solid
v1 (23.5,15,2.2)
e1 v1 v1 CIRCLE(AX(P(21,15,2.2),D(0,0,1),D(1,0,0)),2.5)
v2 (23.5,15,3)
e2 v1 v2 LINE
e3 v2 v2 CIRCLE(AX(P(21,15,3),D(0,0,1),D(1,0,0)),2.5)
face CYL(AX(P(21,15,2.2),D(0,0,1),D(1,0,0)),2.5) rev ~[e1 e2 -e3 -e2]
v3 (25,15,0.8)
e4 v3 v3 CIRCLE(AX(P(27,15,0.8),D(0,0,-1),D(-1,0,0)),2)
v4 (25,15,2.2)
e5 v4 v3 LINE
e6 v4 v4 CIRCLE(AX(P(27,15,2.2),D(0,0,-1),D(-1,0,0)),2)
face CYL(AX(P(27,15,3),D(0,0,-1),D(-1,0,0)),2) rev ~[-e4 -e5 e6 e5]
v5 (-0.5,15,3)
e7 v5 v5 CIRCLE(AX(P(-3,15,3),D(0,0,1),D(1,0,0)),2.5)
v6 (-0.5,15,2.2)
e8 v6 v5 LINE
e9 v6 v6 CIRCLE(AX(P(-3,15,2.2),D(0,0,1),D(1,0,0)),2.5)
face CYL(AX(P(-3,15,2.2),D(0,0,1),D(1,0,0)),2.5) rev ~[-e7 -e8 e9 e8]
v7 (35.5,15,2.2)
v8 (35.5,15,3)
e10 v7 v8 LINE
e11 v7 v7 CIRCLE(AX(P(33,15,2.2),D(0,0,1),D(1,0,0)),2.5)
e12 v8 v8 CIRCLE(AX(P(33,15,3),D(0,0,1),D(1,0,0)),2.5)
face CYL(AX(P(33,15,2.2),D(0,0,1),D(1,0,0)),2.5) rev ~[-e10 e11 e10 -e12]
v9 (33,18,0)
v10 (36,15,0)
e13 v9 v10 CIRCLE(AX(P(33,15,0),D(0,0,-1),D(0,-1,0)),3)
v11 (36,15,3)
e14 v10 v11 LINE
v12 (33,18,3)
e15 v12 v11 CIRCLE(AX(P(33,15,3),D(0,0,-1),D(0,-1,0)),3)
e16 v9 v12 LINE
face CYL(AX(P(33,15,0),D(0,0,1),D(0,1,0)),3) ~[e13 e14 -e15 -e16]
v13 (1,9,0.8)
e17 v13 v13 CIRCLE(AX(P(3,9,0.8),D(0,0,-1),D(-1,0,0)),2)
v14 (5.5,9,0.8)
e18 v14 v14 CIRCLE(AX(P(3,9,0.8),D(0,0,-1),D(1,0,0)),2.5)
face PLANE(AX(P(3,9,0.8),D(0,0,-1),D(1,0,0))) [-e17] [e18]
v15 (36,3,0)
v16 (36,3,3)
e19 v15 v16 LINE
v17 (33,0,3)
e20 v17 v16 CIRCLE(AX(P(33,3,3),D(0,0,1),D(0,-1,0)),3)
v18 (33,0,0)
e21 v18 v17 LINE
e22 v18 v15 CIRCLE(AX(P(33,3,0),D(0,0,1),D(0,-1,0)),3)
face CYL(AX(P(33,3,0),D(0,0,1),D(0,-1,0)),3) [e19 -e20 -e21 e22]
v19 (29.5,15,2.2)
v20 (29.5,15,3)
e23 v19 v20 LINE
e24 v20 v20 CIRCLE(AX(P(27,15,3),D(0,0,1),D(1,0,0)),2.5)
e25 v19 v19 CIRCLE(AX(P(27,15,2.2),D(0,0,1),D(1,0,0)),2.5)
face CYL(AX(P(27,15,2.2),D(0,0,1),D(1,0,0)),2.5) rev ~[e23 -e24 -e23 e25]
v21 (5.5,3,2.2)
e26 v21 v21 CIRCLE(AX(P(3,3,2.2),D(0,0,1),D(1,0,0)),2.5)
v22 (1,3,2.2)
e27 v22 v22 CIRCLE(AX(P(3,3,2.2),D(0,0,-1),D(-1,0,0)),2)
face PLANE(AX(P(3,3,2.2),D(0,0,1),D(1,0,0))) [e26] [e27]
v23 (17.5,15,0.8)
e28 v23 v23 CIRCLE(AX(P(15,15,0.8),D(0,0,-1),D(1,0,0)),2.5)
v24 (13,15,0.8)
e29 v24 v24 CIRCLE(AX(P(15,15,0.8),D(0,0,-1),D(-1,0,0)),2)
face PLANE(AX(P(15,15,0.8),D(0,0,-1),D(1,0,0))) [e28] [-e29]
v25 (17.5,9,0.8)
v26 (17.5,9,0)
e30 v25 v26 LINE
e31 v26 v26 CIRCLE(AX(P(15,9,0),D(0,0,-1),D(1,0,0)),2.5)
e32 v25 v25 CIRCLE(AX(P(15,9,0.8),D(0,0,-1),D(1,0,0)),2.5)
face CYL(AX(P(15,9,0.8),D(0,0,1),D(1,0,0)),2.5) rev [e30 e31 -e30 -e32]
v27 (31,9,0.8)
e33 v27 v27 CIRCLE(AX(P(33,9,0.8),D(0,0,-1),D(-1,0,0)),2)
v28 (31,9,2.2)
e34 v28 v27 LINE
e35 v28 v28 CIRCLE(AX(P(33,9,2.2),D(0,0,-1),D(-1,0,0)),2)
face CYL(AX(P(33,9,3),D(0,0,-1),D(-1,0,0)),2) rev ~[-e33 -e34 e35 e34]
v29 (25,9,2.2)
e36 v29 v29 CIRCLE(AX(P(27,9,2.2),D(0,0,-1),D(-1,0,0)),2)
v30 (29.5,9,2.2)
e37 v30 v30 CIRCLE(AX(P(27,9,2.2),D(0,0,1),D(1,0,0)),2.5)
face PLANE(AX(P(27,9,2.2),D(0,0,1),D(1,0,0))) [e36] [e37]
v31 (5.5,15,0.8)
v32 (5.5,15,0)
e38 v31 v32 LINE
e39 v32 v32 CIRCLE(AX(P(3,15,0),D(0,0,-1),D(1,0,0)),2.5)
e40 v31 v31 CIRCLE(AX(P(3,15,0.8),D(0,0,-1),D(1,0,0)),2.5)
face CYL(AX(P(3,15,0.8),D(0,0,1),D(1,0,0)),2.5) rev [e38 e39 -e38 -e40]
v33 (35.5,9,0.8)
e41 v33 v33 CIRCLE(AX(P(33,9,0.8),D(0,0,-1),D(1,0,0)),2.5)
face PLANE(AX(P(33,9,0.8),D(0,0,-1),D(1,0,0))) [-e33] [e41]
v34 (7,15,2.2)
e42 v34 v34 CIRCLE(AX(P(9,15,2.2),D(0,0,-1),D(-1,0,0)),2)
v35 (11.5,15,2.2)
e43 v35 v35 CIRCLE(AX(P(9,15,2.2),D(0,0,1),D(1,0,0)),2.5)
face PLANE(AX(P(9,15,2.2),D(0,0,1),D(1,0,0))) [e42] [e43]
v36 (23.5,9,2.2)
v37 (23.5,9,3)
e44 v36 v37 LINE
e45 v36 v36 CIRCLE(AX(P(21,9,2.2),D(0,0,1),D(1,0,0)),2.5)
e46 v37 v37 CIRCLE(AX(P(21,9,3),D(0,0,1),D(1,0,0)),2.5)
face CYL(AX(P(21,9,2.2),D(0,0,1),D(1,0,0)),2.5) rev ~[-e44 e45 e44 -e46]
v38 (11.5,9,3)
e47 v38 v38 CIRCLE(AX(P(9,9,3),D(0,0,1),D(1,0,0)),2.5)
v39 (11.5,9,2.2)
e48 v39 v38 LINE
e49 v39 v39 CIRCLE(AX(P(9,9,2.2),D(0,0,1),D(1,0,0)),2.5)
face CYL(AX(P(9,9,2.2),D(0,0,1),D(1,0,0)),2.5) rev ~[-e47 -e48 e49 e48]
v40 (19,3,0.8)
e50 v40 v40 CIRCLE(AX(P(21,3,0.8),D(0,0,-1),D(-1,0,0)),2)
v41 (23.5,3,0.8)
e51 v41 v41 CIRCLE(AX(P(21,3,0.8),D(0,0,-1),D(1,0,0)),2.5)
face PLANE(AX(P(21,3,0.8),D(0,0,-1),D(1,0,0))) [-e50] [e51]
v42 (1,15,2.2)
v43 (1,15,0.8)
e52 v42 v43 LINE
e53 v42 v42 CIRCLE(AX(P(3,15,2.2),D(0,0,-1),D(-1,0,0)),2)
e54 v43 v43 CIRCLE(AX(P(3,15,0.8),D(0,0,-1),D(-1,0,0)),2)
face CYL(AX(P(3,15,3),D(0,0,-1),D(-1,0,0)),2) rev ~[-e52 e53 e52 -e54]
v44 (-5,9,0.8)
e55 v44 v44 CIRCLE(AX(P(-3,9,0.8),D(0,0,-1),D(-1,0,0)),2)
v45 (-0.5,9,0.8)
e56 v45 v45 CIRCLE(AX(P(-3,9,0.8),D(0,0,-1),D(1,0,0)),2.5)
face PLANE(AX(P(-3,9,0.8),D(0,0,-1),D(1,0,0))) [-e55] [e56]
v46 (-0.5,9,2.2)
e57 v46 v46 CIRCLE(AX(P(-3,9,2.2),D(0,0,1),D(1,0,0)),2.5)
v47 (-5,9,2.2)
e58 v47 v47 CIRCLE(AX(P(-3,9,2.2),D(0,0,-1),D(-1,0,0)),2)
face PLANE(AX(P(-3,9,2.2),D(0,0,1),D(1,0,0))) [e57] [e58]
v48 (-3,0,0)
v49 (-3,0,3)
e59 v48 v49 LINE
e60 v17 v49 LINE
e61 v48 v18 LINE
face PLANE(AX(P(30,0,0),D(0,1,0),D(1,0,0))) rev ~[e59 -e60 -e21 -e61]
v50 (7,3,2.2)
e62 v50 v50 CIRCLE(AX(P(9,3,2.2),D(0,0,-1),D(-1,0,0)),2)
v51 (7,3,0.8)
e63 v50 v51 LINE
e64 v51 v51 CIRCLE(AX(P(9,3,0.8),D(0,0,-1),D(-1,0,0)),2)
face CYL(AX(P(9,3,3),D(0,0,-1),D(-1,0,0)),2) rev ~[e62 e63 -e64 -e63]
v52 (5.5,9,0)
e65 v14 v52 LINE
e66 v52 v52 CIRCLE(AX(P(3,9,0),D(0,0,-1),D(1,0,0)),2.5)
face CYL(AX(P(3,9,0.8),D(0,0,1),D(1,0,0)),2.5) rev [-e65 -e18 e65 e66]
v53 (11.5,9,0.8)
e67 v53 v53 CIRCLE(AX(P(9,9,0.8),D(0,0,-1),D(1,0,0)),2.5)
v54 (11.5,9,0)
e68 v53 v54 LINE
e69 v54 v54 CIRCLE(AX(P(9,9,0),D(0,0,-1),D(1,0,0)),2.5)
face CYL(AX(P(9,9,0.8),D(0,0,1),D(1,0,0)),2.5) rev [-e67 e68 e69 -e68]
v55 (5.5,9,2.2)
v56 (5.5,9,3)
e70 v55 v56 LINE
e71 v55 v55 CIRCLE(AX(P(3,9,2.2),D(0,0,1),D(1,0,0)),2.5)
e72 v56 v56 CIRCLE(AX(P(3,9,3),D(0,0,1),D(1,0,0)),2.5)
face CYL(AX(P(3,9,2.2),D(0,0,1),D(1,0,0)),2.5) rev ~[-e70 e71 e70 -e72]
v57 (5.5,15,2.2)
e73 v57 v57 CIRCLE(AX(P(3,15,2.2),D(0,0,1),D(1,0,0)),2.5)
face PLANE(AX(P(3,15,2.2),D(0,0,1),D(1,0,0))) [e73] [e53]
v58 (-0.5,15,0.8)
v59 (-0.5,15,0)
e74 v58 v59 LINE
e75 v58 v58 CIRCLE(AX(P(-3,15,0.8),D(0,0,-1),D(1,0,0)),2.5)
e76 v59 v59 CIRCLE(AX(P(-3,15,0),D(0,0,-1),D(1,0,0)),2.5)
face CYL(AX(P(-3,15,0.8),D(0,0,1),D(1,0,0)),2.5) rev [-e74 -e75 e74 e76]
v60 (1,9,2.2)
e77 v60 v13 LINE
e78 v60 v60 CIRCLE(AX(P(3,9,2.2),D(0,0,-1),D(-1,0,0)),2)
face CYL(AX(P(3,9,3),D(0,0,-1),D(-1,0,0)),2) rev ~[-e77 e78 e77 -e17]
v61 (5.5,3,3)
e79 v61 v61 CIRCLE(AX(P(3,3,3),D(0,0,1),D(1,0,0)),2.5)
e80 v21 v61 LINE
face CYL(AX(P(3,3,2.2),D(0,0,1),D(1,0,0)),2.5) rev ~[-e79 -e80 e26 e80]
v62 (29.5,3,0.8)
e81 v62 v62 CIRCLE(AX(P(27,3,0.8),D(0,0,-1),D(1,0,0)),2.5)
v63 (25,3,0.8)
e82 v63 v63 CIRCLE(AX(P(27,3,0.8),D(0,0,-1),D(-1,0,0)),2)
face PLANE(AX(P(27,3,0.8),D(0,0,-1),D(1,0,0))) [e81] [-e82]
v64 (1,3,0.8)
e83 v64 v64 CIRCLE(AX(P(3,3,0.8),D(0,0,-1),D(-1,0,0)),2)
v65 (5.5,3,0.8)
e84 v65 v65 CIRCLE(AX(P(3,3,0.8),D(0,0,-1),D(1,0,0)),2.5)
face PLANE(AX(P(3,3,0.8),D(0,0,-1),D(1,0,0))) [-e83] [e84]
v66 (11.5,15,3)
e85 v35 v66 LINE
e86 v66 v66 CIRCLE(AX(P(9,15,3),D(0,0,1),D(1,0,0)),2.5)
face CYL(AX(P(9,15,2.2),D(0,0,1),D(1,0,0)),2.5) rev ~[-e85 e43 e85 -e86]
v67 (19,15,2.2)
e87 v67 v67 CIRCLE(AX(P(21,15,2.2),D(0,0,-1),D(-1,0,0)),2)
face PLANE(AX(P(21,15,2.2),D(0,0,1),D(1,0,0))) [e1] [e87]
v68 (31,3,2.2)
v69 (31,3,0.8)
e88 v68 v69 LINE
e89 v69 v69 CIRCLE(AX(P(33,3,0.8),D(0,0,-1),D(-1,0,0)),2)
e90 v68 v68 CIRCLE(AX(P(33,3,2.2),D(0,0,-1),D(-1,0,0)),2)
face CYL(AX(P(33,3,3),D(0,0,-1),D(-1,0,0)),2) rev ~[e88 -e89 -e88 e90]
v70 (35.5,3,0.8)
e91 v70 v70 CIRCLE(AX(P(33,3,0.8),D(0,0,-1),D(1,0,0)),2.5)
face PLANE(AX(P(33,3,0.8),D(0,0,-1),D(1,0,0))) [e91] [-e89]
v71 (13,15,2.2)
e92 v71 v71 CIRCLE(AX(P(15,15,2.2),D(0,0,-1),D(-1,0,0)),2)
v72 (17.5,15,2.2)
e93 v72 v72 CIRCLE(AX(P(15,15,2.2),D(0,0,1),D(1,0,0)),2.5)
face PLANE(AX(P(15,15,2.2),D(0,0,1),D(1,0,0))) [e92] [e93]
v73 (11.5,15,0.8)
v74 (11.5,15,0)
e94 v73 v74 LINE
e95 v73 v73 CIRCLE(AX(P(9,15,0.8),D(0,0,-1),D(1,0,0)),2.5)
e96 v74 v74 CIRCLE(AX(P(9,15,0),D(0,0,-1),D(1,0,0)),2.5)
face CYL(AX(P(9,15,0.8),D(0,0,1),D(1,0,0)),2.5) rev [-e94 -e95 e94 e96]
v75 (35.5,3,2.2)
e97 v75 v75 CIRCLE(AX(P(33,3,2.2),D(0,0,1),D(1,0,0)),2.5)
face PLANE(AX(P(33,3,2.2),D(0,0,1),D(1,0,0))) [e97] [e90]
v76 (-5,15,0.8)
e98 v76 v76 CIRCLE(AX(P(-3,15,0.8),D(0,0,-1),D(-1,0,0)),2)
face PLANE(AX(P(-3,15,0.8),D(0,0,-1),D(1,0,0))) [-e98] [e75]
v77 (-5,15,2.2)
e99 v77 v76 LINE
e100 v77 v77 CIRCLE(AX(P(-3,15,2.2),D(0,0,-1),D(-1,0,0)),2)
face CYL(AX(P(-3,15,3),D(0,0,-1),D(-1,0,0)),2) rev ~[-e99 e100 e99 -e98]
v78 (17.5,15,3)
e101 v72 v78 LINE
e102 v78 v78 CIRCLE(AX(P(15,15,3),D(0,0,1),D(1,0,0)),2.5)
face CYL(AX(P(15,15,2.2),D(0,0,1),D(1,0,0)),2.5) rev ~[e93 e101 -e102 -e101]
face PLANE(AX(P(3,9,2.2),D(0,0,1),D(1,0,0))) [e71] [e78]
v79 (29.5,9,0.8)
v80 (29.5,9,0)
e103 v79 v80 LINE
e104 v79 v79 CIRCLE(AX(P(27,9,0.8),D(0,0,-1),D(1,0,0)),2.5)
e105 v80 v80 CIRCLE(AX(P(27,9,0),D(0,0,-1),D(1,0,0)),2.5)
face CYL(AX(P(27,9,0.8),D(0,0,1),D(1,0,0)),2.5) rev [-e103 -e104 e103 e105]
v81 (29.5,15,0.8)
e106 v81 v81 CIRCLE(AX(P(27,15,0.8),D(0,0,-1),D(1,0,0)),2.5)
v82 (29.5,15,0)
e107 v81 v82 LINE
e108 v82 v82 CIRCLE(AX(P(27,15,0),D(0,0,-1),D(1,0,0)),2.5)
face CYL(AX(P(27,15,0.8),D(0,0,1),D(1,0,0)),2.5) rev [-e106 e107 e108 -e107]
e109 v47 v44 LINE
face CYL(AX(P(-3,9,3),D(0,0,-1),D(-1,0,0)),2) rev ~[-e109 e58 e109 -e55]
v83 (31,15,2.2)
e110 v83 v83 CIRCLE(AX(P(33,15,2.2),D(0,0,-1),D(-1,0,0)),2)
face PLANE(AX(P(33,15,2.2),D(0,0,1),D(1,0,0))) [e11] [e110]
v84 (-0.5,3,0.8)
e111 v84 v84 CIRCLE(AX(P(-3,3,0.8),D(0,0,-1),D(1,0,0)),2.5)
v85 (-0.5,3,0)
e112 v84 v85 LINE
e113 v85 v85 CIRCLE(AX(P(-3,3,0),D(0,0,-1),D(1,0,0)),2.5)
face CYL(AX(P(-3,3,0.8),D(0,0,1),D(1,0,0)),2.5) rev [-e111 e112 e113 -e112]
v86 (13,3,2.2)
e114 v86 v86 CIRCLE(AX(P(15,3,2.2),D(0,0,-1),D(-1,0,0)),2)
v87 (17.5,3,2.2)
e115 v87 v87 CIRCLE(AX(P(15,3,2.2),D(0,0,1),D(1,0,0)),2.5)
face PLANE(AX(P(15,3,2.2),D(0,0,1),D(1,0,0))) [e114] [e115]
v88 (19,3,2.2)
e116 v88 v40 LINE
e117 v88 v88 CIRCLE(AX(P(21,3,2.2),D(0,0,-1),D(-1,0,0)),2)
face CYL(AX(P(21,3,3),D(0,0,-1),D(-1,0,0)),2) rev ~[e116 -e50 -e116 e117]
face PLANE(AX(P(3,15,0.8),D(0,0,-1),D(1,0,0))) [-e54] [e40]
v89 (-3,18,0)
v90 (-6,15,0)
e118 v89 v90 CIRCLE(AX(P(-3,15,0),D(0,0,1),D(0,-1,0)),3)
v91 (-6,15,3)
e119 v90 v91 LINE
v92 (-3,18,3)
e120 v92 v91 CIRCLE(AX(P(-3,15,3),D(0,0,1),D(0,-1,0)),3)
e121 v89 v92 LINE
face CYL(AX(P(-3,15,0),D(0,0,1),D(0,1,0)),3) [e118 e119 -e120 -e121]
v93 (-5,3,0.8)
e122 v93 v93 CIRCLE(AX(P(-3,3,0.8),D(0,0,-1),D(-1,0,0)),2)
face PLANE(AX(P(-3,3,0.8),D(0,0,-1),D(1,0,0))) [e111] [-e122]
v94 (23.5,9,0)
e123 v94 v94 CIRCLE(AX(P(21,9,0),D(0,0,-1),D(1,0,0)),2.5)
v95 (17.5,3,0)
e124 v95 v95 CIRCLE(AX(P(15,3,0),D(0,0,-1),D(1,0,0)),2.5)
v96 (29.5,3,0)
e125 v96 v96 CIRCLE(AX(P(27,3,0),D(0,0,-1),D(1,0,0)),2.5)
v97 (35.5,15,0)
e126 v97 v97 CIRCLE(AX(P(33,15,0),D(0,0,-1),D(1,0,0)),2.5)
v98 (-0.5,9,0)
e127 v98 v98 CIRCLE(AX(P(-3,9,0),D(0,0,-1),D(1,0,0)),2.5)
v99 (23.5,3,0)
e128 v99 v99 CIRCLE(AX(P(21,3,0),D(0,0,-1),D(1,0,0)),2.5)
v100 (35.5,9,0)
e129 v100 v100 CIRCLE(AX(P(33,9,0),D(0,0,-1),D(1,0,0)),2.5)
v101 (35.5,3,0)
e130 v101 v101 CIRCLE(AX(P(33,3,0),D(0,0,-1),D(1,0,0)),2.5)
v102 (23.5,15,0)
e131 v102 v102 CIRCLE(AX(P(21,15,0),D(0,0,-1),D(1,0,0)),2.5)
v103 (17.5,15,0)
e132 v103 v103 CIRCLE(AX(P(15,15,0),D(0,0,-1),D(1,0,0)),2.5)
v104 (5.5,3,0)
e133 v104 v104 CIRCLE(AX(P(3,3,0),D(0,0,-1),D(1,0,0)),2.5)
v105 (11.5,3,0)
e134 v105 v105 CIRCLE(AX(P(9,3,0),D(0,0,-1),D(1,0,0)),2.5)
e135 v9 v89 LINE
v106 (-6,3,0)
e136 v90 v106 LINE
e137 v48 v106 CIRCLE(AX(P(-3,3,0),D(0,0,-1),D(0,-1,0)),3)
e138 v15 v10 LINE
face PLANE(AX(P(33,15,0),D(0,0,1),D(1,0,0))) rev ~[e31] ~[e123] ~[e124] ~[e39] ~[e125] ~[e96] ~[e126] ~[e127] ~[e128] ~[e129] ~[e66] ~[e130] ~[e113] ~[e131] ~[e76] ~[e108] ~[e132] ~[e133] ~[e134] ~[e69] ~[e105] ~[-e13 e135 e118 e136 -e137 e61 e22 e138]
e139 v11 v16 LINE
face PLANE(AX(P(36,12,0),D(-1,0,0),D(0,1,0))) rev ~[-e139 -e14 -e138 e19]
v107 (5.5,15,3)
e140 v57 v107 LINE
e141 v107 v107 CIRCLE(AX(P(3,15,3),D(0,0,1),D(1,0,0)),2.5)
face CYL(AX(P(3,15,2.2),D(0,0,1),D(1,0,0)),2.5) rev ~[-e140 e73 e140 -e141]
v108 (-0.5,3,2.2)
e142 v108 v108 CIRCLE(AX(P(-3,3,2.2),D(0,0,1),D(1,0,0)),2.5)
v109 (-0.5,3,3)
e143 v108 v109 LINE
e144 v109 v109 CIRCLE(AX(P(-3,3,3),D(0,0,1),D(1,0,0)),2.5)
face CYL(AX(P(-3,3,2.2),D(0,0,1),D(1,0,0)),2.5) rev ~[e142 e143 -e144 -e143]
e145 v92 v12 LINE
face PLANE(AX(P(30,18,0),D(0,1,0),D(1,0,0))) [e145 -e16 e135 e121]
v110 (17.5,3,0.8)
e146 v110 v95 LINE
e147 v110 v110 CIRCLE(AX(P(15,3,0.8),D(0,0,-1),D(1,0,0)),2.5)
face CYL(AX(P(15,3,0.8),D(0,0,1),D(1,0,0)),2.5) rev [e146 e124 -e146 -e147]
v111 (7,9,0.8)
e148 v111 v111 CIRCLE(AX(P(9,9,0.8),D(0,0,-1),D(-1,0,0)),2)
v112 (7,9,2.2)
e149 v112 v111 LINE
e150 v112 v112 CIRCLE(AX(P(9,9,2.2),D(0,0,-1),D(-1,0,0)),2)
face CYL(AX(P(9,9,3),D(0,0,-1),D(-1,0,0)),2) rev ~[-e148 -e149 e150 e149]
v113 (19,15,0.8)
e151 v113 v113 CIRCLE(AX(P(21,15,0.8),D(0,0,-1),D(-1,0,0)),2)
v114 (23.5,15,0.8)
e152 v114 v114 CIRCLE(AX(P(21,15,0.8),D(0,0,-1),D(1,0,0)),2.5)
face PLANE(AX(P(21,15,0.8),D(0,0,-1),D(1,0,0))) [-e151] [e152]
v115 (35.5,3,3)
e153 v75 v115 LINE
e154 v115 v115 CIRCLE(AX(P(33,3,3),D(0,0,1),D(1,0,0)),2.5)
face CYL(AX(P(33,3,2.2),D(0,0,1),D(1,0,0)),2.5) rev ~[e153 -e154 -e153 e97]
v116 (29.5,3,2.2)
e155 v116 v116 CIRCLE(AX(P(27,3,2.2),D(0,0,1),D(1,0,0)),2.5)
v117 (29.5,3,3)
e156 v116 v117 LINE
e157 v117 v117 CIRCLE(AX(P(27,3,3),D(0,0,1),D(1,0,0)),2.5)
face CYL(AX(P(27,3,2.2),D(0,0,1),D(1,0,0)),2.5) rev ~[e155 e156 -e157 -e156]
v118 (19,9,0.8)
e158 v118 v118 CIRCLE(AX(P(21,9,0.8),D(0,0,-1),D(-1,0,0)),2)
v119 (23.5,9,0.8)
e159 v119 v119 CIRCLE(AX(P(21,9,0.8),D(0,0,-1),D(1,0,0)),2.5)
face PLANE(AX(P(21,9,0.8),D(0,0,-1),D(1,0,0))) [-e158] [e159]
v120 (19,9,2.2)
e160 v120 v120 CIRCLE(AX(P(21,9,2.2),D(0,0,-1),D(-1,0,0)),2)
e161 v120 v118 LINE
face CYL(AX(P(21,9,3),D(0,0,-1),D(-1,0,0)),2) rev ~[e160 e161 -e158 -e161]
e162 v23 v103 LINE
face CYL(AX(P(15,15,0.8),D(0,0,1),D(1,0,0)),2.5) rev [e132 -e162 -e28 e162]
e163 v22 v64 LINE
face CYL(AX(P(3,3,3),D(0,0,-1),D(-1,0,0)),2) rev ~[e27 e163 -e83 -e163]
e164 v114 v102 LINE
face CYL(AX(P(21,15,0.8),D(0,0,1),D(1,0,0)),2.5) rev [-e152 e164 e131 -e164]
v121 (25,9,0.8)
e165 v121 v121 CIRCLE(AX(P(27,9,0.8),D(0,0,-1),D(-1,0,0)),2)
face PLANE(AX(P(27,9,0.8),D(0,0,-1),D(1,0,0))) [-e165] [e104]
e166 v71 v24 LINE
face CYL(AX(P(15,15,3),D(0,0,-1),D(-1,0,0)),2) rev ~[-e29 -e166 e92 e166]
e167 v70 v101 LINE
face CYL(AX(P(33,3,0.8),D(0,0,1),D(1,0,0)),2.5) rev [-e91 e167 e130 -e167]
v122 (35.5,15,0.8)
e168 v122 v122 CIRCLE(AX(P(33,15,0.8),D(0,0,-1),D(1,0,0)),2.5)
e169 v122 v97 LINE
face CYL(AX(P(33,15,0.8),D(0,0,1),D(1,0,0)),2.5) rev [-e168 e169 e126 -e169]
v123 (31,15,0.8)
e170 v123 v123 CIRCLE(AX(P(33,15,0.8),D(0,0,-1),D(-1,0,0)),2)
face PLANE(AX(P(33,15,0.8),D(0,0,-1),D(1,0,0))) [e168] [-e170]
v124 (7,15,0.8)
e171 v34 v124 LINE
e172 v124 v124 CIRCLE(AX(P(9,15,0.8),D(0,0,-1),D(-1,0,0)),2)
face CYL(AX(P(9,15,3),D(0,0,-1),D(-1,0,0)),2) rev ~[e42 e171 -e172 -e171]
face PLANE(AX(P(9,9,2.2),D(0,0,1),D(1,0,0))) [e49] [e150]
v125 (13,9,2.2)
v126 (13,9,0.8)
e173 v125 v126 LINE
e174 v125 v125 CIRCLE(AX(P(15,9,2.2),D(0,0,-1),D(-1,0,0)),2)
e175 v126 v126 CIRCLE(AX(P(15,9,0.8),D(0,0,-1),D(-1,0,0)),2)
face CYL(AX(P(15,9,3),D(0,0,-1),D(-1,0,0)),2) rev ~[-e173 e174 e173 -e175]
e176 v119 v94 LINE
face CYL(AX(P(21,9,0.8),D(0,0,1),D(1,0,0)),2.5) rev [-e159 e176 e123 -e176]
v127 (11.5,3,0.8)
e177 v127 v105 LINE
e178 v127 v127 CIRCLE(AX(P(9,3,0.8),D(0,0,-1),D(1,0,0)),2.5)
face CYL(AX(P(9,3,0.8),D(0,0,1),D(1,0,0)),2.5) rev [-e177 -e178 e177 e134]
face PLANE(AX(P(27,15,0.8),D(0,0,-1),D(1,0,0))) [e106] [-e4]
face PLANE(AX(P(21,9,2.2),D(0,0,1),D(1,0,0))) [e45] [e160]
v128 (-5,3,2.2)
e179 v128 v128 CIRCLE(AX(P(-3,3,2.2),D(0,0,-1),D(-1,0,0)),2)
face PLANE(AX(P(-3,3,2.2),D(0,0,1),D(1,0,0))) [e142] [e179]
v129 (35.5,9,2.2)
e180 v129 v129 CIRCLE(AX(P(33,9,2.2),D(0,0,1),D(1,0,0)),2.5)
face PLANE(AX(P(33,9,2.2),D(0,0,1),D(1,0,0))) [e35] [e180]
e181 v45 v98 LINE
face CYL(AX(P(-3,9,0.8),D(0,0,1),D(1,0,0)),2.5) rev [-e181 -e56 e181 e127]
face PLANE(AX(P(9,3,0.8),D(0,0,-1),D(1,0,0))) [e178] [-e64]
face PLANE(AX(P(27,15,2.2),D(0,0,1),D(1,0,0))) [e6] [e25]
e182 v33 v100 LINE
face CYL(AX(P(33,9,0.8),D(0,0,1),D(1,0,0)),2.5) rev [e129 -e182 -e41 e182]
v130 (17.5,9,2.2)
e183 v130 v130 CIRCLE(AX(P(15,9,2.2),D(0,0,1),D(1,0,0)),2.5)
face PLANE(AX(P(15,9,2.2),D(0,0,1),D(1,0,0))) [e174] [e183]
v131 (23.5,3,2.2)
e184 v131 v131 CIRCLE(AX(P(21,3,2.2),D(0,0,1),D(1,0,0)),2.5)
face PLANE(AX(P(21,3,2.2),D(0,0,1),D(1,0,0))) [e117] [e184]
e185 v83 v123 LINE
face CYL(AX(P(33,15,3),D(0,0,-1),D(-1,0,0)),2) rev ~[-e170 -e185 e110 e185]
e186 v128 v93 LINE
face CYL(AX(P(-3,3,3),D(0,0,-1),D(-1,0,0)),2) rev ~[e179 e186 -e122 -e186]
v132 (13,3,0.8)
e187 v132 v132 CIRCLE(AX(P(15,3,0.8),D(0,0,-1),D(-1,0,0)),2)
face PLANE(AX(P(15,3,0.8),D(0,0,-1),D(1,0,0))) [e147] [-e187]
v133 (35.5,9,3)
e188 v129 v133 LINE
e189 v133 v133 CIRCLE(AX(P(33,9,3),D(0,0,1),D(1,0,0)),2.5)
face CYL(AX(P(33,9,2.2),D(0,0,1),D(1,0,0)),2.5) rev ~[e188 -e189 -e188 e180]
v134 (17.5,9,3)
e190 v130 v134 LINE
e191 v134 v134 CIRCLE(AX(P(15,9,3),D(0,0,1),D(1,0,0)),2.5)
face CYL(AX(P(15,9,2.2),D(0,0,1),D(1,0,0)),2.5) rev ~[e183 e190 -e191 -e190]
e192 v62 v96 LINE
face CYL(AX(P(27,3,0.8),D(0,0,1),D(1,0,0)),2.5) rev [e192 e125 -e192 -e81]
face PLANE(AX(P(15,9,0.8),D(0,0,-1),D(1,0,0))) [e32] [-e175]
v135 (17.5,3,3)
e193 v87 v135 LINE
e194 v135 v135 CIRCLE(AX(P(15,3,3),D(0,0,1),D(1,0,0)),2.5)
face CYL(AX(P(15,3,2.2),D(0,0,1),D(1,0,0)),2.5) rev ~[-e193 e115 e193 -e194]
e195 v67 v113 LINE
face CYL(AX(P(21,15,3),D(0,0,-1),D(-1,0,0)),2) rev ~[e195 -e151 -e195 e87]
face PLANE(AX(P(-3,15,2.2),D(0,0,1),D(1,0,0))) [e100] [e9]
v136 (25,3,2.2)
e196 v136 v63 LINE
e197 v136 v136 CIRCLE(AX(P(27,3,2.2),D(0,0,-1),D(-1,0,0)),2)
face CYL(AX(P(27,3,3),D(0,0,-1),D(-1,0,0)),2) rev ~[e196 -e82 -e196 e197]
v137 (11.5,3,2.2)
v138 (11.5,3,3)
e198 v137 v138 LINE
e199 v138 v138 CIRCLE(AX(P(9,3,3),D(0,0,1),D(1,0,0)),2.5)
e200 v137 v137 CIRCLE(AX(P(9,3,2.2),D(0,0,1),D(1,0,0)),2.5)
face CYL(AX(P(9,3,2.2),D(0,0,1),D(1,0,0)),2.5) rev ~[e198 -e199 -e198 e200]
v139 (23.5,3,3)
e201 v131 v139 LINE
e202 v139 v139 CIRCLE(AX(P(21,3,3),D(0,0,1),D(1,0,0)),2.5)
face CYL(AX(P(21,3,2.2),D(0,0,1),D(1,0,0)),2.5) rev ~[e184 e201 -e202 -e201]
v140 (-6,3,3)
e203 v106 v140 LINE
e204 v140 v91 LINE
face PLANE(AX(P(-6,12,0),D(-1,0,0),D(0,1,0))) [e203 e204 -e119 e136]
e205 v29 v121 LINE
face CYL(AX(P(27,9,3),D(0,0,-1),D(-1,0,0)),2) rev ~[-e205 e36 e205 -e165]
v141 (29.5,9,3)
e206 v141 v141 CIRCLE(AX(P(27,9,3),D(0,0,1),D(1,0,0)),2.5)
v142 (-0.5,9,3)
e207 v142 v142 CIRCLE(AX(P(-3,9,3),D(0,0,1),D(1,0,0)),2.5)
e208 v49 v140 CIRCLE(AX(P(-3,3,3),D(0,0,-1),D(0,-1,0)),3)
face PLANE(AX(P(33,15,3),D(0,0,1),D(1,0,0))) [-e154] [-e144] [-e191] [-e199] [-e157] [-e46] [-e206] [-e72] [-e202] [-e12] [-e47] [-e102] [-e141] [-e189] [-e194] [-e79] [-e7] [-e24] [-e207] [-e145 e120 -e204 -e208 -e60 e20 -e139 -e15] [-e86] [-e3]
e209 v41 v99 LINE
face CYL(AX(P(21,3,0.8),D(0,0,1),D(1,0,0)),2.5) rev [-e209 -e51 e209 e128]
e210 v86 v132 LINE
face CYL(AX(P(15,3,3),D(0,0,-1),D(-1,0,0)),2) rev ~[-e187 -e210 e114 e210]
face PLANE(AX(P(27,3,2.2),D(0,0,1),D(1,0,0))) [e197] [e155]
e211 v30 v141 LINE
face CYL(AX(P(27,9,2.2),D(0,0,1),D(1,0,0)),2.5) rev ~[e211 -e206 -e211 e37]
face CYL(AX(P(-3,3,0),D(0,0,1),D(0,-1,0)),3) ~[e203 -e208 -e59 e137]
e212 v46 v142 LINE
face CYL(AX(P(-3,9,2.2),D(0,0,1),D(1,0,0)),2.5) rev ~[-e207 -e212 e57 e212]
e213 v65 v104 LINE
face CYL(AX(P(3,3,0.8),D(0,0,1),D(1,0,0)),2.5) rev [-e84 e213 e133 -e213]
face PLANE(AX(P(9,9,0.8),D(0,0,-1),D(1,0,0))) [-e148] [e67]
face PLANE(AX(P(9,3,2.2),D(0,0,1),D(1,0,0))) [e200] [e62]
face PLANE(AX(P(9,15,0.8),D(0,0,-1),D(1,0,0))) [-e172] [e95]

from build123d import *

# Parameters (mm, degrees)
SKETCH1_W           = 6
SKETCH1_H           = 6
BOSS_EXTRUDE1_DEPTH = 3
HOLE1_D             = 4
HOLE1_DEPTH         = 3
HOLE1_CBORE_D       = 5
HOLE1_CBORE_DEPTH   = 0.8
HOLE1_TIP           = 1.201721238
CUT_EXTRUDE1_START  = -0.8
SKETCH4_R           = 2.5
CUT_EXTRUDE1_DEPTH  = 0.8
LPATTERN1_COUNT     = 3
LPATTERN1_PITCH     = 6
LPATTERN1_2_COUNT   = 7
LPATTERN1_2_PITCH   = 6
FILLET5_R           = 3


with BuildPart() as part:
    # Sketch1 → Boss-Extrude1 (new body)
    with BuildSketch(Plane.XY):
        with Locations((-3, 3)):
            Rectangle(SKETCH1_W, SKETCH1_H)
    extrude(amount=BOSS_EXTRUDE1_DEPTH)

    # Hole1
    with Locations(Plane.XY.offset(3)):
        with Locations((-3, 3)):
            CounterBoreHole(HOLE1_D / 2, HOLE1_CBORE_D / 2, HOLE1_CBORE_DEPTH, depth=HOLE1_DEPTH)
            with Locations((0, 0, -(HOLE1_DEPTH + HOLE1_TIP / 2))):  # 118° drill point
                Cone(0, HOLE1_D / 2, HOLE1_TIP, mode=Mode.SUBTRACT)

    # Sketch4 → Cut-Extrude1 (cut)
    with BuildSketch(Plane(origin=(0, 0, 0), x_dir=(-1, 0, 0), z_dir=(0, 0, -1)).offset(CUT_EXTRUDE1_START)):
        with Locations(Location((3, 3, 0), (0, 0, 180))):
            Circle(SKETCH4_R)
    extrude(amount=CUT_EXTRUDE1_DEPTH, mode=Mode.SUBTRACT)


with BuildPart() as lpattern1_1:
    # LPattern1: pattern copy
    add(part.part.moved(Location(Vector(0, 1, 0) * (1 * LPATTERN1_PITCH))))


with BuildPart() as lpattern1_2:
    # LPattern1: pattern copy
    add(part.part.moved(Location(Vector(0, 1, 0) * (2 * LPATTERN1_PITCH))))


with BuildPart() as lpattern1_2_1:
    # LPattern1 2: pattern copy
    add(part.part.moved(Location(Vector(1, 0, 0) * (1 * LPATTERN1_2_PITCH))))


with BuildPart() as lpattern1_2_2:
    # LPattern1 2: pattern copy
    add(part.part.moved(Location(Vector(1, 0, 0) * (2 * LPATTERN1_2_PITCH))))


with BuildPart() as lpattern1_2_3:
    # LPattern1 2: pattern copy
    add(part.part.moved(Location(Vector(1, 0, 0) * (3 * LPATTERN1_2_PITCH))))


with BuildPart() as lpattern1_2_4:
    # LPattern1 2: pattern copy
    add(part.part.moved(Location(Vector(1, 0, 0) * (4 * LPATTERN1_2_PITCH))))


with BuildPart() as lpattern1_2_5:
    # LPattern1 2: pattern copy
    add(part.part.moved(Location(Vector(1, 0, 0) * (5 * LPATTERN1_2_PITCH))))


with BuildPart() as lpattern1_2_6:
    # LPattern1 2: pattern copy
    add(part.part.moved(Location(Vector(1, 0, 0) * (6 * LPATTERN1_2_PITCH))))


with BuildPart() as lpattern1_2_7:
    # LPattern1 2: pattern copy
    add(lpattern1_1.part.moved(Location(Vector(1, 0, 0) * (1 * LPATTERN1_2_PITCH))))


with BuildPart() as lpattern1_2_8:
    # LPattern1 2: pattern copy
    add(lpattern1_1.part.moved(Location(Vector(1, 0, 0) * (2 * LPATTERN1_2_PITCH))))


with BuildPart() as lpattern1_2_9:
    # LPattern1 2: pattern copy
    add(lpattern1_1.part.moved(Location(Vector(1, 0, 0) * (3 * LPATTERN1_2_PITCH))))


with BuildPart() as lpattern1_2_10:
    # LPattern1 2: pattern copy
    add(lpattern1_1.part.moved(Location(Vector(1, 0, 0) * (4 * LPATTERN1_2_PITCH))))


with BuildPart() as lpattern1_2_11:
    # LPattern1 2: pattern copy
    add(lpattern1_1.part.moved(Location(Vector(1, 0, 0) * (5 * LPATTERN1_2_PITCH))))


with BuildPart() as lpattern1_2_12:
    # LPattern1 2: pattern copy
    add(lpattern1_1.part.moved(Location(Vector(1, 0, 0) * (6 * LPATTERN1_2_PITCH))))


with BuildPart() as lpattern1_2_13:
    # LPattern1 2: pattern copy
    add(lpattern1_2.part.moved(Location(Vector(1, 0, 0) * (1 * LPATTERN1_2_PITCH))))


with BuildPart() as lpattern1_2_14:
    # LPattern1 2: pattern copy
    add(lpattern1_2.part.moved(Location(Vector(1, 0, 0) * (2 * LPATTERN1_2_PITCH))))


with BuildPart() as lpattern1_2_15:
    # LPattern1 2: pattern copy
    add(lpattern1_2.part.moved(Location(Vector(1, 0, 0) * (3 * LPATTERN1_2_PITCH))))


with BuildPart() as lpattern1_2_16:
    # LPattern1 2: pattern copy
    add(lpattern1_2.part.moved(Location(Vector(1, 0, 0) * (4 * LPATTERN1_2_PITCH))))


with BuildPart() as lpattern1_2_17:
    # LPattern1 2: pattern copy
    add(lpattern1_2.part.moved(Location(Vector(1, 0, 0) * (5 * LPATTERN1_2_PITCH))))


with BuildPart() as lpattern1_2_18:
    # LPattern1 2: pattern copy
    add(lpattern1_2.part.moved(Location(Vector(1, 0, 0) * (6 * LPATTERN1_2_PITCH))))


with BuildPart() as part_1:
    add(part.part)

    # Combine3: union LPattern1_1, LPattern1_2, LPattern1 2_1, LPattern1 2_7, LPattern1 2_13, LPattern1 2_2, LPattern1 2_8, LPattern1 2_14, LPattern1 2_3, LPattern1 2_9, LPattern1 2_15, LPattern1 2_4, LPattern1 2_10, LPattern1 2_16, LPattern1 2_5, LPattern1 2_11, LPattern1 2_17, LPattern1 2_6, LPattern1 2_12, LPattern1 2_18
    add(lpattern1_1.part)
    add(lpattern1_2.part)
    add(lpattern1_2_1.part)
    add(lpattern1_2_7.part)
    add(lpattern1_2_13.part)
    add(lpattern1_2_2.part)
    add(lpattern1_2_8.part)
    add(lpattern1_2_14.part)
    add(lpattern1_2_3.part)
    add(lpattern1_2_9.part)
    add(lpattern1_2_15.part)
    add(lpattern1_2_4.part)
    add(lpattern1_2_10.part)
    add(lpattern1_2_16.part)
    add(lpattern1_2_5.part)
    add(lpattern1_2_11.part)
    add(lpattern1_2_17.part)
    add(lpattern1_2_6.part)
    add(lpattern1_2_12.part)
    add(lpattern1_2_18.part)

    # Fillet5
    fillet5_edges = [part_1.edges().sort_by_distance(p)[0] for p in [
        (-6, 18, 1.5),
        (36, 18, 1.5),
        (36, 0, 1.5),
        (-6, 0, 1.5),
    ]]
    fillet(fillet5_edges, radius=FILLET5_R)


solid = part_1.part
